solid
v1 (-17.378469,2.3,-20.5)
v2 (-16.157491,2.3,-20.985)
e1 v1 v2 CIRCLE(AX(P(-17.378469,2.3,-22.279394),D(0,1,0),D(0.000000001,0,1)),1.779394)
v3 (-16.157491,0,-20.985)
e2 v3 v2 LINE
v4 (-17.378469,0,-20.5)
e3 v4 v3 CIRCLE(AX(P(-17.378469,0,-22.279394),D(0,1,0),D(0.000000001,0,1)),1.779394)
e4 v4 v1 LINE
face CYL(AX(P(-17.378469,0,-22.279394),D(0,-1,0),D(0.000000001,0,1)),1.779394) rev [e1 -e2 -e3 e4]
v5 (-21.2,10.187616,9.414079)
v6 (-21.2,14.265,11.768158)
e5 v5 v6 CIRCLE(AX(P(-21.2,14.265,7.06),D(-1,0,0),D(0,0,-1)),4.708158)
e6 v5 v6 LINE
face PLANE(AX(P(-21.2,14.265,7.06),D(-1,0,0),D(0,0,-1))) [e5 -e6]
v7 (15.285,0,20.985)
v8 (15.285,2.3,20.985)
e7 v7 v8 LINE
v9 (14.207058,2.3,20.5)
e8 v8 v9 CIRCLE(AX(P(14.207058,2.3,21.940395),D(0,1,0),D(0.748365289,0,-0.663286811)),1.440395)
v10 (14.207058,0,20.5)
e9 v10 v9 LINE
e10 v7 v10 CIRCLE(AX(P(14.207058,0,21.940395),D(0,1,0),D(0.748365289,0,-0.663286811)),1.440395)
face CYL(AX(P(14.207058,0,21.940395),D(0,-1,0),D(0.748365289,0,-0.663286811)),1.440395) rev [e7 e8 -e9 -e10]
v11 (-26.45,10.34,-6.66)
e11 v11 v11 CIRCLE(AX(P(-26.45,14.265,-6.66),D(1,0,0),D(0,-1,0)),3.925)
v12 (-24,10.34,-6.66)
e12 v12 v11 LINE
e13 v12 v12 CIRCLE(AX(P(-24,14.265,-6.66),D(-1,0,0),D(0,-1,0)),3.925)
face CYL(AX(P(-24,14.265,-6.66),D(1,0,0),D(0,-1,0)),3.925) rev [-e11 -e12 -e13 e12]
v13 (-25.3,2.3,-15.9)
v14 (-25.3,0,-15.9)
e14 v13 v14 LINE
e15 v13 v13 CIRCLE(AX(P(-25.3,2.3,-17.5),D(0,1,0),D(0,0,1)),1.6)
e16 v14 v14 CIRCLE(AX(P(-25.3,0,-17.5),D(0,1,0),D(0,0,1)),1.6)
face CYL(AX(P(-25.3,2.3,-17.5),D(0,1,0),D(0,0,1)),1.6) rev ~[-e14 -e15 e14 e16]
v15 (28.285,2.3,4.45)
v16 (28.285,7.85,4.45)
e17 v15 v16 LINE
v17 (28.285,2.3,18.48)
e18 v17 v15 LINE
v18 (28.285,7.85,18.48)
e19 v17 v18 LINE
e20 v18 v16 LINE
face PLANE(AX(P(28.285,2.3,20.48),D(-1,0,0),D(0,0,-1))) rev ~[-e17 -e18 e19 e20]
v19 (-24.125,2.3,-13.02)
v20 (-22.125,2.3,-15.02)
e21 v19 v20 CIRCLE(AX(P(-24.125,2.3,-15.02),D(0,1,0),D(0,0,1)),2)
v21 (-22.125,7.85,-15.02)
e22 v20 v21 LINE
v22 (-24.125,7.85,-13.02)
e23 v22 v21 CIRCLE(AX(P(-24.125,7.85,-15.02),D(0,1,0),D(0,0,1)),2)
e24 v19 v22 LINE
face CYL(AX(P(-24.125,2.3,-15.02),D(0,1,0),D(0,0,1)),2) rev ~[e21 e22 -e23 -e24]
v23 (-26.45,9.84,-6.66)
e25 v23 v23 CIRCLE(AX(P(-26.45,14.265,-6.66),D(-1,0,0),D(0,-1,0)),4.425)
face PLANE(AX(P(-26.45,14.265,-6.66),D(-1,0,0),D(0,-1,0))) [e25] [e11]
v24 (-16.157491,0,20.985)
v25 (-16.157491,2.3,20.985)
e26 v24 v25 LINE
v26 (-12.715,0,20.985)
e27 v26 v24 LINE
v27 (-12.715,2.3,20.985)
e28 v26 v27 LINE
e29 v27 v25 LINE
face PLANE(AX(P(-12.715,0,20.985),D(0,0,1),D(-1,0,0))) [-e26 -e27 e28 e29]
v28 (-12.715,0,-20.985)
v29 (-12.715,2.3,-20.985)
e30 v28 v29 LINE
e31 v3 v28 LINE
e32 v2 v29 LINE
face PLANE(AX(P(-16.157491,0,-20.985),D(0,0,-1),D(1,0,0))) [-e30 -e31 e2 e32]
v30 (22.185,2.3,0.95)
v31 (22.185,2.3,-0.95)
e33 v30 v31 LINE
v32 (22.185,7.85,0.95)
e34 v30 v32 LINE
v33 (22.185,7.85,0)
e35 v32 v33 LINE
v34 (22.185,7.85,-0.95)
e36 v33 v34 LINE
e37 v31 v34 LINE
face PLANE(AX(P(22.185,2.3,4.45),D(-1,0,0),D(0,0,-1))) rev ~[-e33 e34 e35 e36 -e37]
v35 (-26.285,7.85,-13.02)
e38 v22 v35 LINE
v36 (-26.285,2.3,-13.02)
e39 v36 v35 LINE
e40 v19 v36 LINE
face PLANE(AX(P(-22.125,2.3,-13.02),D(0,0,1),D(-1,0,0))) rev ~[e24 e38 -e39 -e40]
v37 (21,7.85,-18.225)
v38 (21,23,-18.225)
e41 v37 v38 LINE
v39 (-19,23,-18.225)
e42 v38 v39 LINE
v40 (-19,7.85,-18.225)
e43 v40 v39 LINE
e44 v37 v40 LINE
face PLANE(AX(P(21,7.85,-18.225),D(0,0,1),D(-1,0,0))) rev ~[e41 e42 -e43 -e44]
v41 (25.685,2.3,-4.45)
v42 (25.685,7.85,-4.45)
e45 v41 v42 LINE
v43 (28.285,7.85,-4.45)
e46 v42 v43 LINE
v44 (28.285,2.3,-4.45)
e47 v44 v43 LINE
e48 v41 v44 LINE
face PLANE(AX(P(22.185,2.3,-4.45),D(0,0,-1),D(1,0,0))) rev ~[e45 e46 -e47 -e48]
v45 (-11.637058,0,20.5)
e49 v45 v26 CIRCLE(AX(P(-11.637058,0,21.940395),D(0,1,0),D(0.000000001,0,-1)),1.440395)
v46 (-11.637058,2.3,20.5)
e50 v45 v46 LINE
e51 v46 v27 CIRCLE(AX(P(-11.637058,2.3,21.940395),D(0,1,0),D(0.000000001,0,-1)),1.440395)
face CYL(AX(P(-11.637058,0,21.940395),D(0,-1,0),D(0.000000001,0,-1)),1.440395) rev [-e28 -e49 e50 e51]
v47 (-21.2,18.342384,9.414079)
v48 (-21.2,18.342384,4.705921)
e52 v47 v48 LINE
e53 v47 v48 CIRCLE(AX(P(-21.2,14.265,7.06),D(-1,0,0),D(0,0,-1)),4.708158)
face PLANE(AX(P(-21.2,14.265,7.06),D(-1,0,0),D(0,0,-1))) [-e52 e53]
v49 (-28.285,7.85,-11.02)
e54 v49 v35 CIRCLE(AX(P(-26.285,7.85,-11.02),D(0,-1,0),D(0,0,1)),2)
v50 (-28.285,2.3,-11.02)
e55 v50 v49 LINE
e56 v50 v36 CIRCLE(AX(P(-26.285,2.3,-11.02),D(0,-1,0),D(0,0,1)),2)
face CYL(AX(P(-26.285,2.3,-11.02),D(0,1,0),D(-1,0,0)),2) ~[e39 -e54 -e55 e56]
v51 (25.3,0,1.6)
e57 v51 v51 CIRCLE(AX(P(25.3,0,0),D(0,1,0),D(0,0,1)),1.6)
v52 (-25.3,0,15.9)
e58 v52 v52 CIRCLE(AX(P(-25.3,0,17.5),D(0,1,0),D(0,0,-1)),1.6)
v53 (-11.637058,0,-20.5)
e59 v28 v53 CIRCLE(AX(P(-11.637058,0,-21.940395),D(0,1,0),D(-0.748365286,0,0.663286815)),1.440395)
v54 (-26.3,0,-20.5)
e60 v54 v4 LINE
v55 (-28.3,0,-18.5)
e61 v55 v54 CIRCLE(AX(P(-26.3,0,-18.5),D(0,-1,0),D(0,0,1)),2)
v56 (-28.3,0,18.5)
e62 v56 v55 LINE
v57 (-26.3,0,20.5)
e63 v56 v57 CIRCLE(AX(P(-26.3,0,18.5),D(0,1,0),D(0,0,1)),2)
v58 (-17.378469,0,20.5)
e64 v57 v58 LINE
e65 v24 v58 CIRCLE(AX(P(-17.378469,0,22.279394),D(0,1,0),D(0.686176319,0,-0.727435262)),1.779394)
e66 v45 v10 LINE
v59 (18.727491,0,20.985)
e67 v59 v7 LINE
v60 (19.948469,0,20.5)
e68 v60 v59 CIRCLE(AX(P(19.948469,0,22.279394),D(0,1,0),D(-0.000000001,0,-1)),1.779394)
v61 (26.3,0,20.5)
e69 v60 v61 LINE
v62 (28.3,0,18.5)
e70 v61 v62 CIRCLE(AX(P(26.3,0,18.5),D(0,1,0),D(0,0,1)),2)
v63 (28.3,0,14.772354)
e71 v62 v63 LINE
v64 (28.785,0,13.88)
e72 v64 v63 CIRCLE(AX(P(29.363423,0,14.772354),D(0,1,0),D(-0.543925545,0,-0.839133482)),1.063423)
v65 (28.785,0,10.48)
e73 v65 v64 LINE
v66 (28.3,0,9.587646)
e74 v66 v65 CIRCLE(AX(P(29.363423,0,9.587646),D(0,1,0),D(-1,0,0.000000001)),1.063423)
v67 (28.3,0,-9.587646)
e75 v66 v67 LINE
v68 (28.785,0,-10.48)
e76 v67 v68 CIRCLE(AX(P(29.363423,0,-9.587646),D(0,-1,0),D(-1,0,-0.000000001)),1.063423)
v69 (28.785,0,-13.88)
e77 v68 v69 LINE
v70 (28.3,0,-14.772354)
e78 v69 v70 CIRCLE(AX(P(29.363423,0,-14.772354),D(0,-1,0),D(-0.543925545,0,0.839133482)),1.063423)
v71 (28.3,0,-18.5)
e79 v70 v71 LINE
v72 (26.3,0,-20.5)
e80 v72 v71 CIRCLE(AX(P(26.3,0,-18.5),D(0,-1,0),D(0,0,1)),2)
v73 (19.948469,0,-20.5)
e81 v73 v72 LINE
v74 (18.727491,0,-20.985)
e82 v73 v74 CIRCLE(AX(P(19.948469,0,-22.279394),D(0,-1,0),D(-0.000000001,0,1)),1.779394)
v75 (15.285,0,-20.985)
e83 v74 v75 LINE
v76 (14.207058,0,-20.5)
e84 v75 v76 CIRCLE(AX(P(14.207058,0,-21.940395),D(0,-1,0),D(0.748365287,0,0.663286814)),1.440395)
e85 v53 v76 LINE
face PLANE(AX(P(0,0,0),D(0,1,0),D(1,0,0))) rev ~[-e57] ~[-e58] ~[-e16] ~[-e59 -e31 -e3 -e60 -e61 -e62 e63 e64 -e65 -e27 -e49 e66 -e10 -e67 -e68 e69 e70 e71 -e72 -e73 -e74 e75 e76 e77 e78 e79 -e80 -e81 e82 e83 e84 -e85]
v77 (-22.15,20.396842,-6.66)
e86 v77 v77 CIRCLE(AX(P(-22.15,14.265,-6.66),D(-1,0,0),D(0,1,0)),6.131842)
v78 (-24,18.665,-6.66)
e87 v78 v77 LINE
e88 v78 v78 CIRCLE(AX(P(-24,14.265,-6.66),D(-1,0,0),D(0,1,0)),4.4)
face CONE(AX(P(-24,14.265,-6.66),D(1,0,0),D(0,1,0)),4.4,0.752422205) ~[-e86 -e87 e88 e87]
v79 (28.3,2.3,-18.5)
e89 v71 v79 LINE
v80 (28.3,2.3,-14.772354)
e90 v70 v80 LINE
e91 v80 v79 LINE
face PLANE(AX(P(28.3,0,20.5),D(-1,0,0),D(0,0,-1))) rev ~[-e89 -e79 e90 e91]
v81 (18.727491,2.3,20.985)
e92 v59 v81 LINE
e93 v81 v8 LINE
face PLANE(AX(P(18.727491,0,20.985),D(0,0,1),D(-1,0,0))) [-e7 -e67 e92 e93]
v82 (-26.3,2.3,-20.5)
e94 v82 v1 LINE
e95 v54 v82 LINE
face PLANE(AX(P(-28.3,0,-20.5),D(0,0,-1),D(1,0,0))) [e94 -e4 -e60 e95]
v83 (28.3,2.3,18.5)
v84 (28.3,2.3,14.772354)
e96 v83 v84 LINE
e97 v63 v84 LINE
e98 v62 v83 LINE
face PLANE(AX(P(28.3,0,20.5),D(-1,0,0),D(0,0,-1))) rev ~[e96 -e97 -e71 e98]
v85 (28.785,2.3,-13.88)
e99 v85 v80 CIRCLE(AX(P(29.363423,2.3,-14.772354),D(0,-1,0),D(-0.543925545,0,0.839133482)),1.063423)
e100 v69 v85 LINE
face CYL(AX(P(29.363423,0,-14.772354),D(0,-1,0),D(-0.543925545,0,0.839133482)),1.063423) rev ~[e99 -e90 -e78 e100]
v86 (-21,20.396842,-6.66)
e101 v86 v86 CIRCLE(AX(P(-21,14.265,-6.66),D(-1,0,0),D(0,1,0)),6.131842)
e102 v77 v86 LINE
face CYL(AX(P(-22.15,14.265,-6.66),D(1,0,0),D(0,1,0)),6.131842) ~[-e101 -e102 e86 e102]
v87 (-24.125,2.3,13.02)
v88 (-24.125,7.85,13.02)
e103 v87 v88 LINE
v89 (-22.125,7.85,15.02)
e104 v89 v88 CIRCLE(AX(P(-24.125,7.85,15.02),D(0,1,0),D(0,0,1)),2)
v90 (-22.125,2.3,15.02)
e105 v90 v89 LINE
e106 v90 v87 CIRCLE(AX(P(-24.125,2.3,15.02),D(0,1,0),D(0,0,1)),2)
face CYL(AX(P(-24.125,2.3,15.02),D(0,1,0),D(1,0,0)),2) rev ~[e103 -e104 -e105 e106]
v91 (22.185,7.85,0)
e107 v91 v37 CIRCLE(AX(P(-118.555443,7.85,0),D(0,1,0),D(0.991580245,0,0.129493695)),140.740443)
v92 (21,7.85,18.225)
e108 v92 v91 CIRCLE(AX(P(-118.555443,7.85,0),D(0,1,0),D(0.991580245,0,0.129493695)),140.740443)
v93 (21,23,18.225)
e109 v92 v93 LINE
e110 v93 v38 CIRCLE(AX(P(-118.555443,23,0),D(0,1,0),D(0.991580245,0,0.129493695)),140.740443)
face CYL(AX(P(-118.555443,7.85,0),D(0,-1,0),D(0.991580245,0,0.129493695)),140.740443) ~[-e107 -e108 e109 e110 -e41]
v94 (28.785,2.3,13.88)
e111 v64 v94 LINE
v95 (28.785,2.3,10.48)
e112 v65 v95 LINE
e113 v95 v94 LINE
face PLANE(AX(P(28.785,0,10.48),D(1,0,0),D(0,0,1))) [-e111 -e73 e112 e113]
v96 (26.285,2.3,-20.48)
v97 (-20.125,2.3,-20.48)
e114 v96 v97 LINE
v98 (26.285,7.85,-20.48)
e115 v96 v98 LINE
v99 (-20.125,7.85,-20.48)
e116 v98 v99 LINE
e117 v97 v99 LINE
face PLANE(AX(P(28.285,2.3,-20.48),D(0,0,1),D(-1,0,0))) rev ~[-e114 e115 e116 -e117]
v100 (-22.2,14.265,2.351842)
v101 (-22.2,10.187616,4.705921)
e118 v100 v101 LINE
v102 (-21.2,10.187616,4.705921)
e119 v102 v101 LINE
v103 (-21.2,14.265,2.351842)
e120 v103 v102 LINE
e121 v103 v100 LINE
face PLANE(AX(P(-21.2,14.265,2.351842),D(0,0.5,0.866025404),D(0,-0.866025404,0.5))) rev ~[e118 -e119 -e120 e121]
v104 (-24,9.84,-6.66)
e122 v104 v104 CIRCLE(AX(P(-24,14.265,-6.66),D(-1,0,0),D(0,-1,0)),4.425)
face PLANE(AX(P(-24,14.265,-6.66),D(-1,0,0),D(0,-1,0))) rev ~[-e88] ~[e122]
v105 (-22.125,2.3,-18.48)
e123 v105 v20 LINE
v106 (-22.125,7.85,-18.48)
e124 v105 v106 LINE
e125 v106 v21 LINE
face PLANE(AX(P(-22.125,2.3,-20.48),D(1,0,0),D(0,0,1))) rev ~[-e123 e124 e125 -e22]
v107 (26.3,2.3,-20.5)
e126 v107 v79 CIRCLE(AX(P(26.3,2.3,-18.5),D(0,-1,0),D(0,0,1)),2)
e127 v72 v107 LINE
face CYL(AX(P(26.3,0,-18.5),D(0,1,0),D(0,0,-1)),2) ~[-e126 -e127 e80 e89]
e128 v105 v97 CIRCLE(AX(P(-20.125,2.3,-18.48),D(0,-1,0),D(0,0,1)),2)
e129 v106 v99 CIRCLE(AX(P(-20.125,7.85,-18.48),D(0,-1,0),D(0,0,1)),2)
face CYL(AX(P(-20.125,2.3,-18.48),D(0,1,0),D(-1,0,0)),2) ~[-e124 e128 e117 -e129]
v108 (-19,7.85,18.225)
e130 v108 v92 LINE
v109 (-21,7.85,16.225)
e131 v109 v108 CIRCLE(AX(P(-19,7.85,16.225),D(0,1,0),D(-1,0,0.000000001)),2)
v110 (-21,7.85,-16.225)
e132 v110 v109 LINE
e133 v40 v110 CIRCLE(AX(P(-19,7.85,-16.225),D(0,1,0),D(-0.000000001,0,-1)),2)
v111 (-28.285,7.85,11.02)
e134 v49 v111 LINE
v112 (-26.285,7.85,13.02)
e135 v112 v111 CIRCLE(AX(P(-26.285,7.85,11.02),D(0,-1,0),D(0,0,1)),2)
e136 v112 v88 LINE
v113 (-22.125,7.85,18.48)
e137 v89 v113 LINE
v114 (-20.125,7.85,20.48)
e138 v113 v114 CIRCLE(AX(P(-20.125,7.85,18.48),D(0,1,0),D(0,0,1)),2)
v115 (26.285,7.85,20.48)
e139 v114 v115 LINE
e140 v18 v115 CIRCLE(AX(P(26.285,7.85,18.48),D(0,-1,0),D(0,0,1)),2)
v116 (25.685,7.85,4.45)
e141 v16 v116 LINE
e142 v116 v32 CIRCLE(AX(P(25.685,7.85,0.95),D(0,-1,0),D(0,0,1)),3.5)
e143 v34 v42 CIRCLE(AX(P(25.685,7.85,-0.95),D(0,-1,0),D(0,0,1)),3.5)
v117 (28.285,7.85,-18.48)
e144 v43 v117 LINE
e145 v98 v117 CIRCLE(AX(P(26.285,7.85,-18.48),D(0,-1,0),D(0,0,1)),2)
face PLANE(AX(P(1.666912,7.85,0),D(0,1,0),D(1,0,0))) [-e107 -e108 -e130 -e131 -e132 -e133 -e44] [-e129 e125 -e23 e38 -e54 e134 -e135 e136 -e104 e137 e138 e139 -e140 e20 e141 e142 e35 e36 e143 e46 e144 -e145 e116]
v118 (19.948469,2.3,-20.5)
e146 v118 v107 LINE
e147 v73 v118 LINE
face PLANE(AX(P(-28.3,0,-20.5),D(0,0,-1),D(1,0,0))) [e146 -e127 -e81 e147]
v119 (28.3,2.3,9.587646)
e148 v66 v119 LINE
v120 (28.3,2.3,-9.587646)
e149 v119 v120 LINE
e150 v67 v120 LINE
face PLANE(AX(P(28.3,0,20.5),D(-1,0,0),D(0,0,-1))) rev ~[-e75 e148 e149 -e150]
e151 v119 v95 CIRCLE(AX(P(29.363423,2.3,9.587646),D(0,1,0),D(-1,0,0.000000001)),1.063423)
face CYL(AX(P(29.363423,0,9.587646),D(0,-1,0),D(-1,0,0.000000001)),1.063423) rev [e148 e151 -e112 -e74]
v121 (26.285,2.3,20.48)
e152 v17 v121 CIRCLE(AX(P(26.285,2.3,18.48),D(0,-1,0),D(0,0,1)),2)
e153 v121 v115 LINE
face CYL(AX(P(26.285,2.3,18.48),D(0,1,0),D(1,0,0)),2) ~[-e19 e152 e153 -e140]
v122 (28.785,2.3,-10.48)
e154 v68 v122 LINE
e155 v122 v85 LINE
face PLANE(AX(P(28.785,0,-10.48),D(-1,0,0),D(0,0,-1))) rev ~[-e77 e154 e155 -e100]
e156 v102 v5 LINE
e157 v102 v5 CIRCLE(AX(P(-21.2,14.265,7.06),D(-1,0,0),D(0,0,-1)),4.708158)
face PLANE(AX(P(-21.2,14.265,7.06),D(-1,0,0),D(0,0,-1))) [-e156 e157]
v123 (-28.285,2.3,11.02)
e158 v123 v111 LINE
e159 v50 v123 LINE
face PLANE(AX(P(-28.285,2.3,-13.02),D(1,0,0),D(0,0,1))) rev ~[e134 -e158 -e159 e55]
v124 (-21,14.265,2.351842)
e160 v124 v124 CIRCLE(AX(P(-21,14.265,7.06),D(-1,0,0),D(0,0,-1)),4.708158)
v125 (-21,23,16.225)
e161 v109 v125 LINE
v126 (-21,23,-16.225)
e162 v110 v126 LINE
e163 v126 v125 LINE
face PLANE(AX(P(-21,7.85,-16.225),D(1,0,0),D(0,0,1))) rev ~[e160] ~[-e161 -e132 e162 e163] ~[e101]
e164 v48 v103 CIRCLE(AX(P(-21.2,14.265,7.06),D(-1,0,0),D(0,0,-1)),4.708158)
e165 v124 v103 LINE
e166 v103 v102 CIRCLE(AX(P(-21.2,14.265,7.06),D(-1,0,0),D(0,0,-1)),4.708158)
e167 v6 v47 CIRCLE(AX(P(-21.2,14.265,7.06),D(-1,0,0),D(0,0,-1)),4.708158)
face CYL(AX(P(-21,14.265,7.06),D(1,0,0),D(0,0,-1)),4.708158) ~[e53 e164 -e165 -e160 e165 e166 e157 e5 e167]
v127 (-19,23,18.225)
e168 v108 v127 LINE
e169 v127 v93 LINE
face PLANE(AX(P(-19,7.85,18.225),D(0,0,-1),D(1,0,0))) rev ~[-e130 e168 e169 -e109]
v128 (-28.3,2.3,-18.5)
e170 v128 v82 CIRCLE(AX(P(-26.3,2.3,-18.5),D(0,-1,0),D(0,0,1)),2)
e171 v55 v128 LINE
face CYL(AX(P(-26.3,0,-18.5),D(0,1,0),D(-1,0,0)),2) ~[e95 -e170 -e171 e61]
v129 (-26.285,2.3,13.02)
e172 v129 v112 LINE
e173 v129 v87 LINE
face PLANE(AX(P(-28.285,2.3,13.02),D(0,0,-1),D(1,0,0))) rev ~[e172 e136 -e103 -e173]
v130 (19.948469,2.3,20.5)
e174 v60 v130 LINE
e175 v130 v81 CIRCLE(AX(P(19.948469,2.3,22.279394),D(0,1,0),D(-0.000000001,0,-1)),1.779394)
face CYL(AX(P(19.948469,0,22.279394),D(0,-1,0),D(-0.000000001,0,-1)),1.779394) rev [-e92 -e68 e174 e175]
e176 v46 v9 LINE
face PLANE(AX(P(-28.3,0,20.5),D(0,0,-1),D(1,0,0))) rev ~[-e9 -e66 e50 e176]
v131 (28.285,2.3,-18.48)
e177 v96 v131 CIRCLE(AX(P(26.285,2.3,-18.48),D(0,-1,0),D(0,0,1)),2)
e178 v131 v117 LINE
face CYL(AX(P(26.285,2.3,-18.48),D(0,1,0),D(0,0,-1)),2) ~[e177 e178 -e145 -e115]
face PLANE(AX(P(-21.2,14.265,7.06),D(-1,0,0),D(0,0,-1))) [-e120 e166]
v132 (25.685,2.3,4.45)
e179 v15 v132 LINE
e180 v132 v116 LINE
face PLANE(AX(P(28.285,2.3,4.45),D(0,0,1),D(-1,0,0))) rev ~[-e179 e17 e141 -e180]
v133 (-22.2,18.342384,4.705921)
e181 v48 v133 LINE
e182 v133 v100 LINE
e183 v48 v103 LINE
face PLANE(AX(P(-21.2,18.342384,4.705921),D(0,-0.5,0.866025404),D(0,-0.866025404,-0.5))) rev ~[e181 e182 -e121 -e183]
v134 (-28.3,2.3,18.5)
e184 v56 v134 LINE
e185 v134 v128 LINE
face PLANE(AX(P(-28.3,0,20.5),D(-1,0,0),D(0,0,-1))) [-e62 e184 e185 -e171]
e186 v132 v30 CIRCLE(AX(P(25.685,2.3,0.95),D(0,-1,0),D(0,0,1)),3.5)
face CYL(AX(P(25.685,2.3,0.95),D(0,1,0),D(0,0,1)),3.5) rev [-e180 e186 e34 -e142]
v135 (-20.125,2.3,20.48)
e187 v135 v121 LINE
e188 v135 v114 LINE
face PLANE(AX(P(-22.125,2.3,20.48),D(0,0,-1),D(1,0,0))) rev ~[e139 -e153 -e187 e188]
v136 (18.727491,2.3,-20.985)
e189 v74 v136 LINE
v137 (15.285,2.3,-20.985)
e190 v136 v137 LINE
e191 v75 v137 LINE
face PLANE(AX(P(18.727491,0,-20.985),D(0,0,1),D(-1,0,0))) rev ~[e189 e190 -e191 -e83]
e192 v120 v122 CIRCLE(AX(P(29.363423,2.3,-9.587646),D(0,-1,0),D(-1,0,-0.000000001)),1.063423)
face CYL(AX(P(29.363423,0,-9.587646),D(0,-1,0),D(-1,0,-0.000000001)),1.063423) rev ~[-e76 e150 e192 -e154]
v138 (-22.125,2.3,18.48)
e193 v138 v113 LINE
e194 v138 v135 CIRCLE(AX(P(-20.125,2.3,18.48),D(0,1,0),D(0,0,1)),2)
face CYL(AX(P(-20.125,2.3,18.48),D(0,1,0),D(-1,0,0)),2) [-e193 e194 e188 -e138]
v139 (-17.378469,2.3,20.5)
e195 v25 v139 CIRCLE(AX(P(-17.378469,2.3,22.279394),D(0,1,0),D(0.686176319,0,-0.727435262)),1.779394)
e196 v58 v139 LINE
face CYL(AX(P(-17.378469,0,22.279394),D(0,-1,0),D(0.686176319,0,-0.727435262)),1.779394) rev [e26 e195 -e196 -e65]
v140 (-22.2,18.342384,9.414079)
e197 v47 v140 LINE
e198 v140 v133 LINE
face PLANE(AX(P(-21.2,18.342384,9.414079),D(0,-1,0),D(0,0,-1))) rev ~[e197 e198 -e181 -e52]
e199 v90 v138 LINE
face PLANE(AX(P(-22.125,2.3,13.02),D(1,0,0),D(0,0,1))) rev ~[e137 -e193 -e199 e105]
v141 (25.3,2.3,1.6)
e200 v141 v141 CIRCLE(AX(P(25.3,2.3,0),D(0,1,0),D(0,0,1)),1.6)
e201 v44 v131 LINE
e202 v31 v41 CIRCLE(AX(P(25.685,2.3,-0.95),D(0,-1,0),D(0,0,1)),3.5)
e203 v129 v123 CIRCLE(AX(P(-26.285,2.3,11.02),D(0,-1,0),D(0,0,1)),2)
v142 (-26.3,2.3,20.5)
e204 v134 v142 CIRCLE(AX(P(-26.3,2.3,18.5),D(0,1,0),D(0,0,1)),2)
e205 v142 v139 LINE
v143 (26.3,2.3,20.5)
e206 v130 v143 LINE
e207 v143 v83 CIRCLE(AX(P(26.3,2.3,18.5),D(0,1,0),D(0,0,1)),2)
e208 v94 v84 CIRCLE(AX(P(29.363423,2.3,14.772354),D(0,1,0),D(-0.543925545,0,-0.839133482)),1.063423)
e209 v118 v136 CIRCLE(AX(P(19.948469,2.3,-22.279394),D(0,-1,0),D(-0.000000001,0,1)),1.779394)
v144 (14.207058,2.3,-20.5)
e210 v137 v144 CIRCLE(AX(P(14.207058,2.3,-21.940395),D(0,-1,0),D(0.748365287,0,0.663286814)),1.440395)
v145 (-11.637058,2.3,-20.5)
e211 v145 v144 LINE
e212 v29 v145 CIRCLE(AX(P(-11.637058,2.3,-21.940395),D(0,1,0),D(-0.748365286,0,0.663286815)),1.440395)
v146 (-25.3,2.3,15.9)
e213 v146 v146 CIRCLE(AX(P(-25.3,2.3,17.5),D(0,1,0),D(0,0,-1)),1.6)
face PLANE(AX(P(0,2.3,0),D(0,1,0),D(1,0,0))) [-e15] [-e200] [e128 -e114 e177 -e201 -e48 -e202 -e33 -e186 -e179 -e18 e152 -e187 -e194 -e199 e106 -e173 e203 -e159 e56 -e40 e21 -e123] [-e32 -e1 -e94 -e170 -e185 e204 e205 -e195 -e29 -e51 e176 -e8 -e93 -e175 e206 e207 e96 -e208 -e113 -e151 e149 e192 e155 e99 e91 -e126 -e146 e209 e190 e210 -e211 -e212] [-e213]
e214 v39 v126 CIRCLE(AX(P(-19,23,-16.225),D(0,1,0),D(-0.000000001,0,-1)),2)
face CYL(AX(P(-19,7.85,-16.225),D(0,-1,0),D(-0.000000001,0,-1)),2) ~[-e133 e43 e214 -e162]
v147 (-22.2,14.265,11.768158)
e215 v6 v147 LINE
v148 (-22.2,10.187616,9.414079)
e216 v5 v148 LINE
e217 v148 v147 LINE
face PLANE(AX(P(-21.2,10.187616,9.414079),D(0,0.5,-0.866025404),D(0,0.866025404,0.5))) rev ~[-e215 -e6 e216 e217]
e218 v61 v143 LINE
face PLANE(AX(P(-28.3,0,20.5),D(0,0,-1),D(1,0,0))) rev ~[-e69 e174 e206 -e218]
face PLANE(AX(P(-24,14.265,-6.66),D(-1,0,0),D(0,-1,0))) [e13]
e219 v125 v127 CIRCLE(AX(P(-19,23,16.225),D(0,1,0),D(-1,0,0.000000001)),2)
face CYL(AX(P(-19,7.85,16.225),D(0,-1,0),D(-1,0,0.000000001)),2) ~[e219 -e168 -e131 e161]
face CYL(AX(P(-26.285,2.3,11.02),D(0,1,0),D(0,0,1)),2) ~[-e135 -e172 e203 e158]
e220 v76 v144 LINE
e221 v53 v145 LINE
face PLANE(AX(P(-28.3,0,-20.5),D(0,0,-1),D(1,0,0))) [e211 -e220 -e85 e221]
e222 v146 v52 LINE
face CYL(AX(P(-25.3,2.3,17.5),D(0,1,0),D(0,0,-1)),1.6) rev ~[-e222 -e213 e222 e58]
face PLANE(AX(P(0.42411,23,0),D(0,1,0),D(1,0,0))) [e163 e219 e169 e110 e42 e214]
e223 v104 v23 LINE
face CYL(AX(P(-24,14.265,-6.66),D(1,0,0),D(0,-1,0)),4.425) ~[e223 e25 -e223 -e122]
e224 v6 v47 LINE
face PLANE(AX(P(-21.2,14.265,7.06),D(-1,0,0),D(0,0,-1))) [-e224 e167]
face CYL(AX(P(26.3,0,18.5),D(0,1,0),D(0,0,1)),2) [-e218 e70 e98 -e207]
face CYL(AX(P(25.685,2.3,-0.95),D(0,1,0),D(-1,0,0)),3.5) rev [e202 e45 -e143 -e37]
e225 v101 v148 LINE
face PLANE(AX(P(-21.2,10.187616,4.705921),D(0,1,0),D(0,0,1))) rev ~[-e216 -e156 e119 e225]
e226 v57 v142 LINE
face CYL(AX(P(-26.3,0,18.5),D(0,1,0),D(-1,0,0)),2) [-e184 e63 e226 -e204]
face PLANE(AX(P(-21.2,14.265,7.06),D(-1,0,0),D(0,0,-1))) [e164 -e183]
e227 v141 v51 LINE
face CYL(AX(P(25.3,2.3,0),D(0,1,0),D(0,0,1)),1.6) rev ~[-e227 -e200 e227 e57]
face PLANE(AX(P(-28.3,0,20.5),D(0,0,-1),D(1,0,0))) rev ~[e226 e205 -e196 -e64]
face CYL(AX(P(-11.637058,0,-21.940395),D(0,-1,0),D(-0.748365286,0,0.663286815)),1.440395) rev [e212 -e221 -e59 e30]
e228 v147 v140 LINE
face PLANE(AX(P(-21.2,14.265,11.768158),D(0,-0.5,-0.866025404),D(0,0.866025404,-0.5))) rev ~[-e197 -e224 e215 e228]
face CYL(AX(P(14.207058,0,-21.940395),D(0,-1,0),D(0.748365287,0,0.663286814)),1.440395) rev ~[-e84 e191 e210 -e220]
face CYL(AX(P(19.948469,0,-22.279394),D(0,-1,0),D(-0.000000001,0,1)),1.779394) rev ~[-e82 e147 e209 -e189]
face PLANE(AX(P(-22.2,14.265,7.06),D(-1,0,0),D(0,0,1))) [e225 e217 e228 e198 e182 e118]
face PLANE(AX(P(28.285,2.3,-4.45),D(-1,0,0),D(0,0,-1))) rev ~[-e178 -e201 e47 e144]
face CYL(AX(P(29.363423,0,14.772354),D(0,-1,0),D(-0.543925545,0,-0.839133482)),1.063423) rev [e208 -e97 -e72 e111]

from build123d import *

# Parameters (mm, degrees)
SKETCH1_W               = 56.6
SKETCH1_H               = 41
BOSS_EXTRUDE1_DEPTH     = 2.3
BOSS_EXTRUDE2_DEPTH     = 5.55
BOSS_EXTRUDE3_DEPTH     = 15.15
FILLET1_R               = 2
BOSS_EXTRUDE5_DEPTH     = 2.3
BOSS_EXTRUDE6_DEPTH     = 2.3
SKETCH6_R               = 1.6
CUT_EXTRUDE1_DEPTH      = 42.199956917
FILLET2_R               = 3.5
SKETCH7_R               = 4.708157521
BOSS_EXTRUDE7_DEPTH     = 0.2
SKETCH11_R              = 4.425
BOSS_EXTRUDE8_DEPTH     = 2.45
CUT_EXTRUDE2_DEPTH      = 10
CUT_EXTRUDE2_DEPTH_BACK = 2.45
SKETCH12_R              = 3.925
BOSS_EXTRUDE10_DEPTH    = 1


with BuildPart() as part:
    # Sketch1 → Boss-Extrude1 (new body)
    with BuildSketch(Plane(origin=(0, 0, 0), x_dir=(1, 0, 0), z_dir=(0, 1, 0))):
        Rectangle(SKETCH1_W, SKETCH1_H)
    extrude(amount=BOSS_EXTRUDE1_DEPTH)

    # Sketch2 → Boss-Extrude2 (add)
    with BuildSketch(Plane(origin=(0, 2.3, 0), x_dir=(1, 0, 0), z_dir=(0, 1, 0))):
        Polygon((-22.125, -20.48), (28.285, -20.48), (28.285, -4.45), (22.185, -4.45), (22.185, 4.45), (28.285, 4.45), (28.285, 20.48), (-22.125, 20.48), (-22.125, 13.02), (-28.285, 13.02), (-28.285, -13.02), (-22.125, -13.02), align=None)
    extrude(amount=BOSS_EXTRUDE2_DEPTH)

    # Sketch3 → Boss-Extrude3 (add)
    with BuildSketch(Plane(origin=(0, 7.85, 0), x_dir=(1, 0, 0), z_dir=(0, 1, 0))):
        with BuildLine():
            Line((-19, -18.225), (21, -18.225))
            ThreePointArc((21, -18.225), (22.185, 0), (21, 18.225))
            Line((21, 18.225), (-19, 18.225))
            ThreePointArc((-19, 18.225), (-20.414213562, 17.639213562), (-21, 16.225))
            Line((-21, 16.225), (-21, -16.225))
            ThreePointArc((-21, -16.225), (-20.414213562, -17.639213562), (-19, -18.225))
        make_face()
    extrude(amount=BOSS_EXTRUDE3_DEPTH)

    # Fillet1
    fillet1_edges = [part.edges().sort_by_distance(p)[0] for p in [
        (28.285, 5.075, -20.48),
        (-22.125, 5.075, -20.48),
        (-22.125, 5.075, -13.02),
        (-28.285, 5.075, -13.02),
        (-28.285, 5.075, 13.02),
        (-22.125, 5.075, 13.02),
        (-22.125, 5.075, 20.48),
        (28.285, 5.075, 20.48),
        (28.3, 1.15, 20.5),
        (-28.3, 1.15, 20.5),
        (-28.3, 1.15, -20.5),
        (28.3, 1.15, -20.5),
    ]]
    fillet(fillet1_edges, radius=FILLET1_R)

    # Sketch4 → Boss-Extrude5 (add)
    with BuildSketch(Plane(origin=(0, 0, 0), x_dir=(1, 0, 0), z_dir=(0, 1, 0))):
        with BuildLine():
            Line((28.3, 14.772353725), (28.3, 9.587646275))
            ThreePointArc((28.3, 9.587646275), (28.429084519, 10.095465182), (28.785, 10.48))
            Line((28.785, 10.48), (28.785, 13.88))
            ThreePointArc((28.785, 13.88), (28.429084519, 14.264534818), (28.3, 14.772353725))
        make_face()
        with BuildLine():
            ThreePointArc((28.3, -9.587646275), (28.429084519, -10.095465182), (28.785, -10.48))
            Line((28.785, -10.48), (28.785, -13.88))
            ThreePointArc((28.785, -13.88), (28.429084519, -14.264534818), (28.3, -14.772353725))
            Line((28.3, -14.772353725), (28.3, -9.587646275))
        make_face()
    extrude(amount=BOSS_EXTRUDE5_DEPTH)

    # Sketch5 → Boss-Extrude6 (add)
    with BuildSketch(Plane(origin=(29.434734965, 0, -17.005006325), x_dir=(0, 0, -1), z_dir=(0, 1, 0))):
        with BuildLine():
            Line((3.494993675, 9.629302498), (3.494993675, 9.486266265))
            ThreePointArc((3.494993675, 9.486266265), (3.620682756, 10.143155137), (3.979993675, 10.707244136))
            Line((3.979993675, 10.707244136), (3.979993675, 14.149734965))
            ThreePointArc((3.979993675, 14.149734965), (3.621827878, 14.636664087), (3.494993675, 15.227676603))
            Line((3.494993675, 15.227676603), (3.494993675, 9.629302498))
        make_face()
        with BuildLine():
            Line((-37.505006325, 46.813203664), (-37.505006325, 46.670167432))
            Line((-37.505006325, 46.670167432), (-37.505006325, 41.071793326))
            ThreePointArc((-37.505006325, 41.071793326), (-37.631840527, 41.662805842), (-37.990006325, 42.149734965))
            Line((-37.990006325, 42.149734965), (-37.990006325, 45.592225793))
            ThreePointArc((-37.990006325, 45.592225793), (-37.630695406, 46.156314792), (-37.505006325, 46.813203664))
        make_face()
        with BuildLine():
            Line((3.494993675, 41.071793326), (3.494993675, 46.670167432))
            Line((3.494993675, 46.670167432), (3.494993675, 46.813203664))
            ThreePointArc((3.494993675, 46.813203664), (3.620682756, 46.156314792), (3.979993675, 45.592225793))
            Line((3.979993675, 45.592225793), (3.979993675, 42.149734965))
            ThreePointArc((3.979993675, 42.149734965), (3.621827878, 41.662805842), (3.494993675, 41.071793326))
        make_face()
        with BuildLine():
            Line((-37.505006325, 15.227676603), (-37.505006325, 9.629302498))
            Line((-37.505006325, 9.629302498), (-37.505006325, 9.486266265))
            ThreePointArc((-37.505006325, 9.486266265), (-37.630695406, 10.143155137), (-37.990006325, 10.707244136))
            Line((-37.990006325, 10.707244136), (-37.990006325, 14.149734965))
            ThreePointArc((-37.990006325, 14.149734965), (-37.631840527, 14.636664087), (-37.505006325, 15.227676603))
        make_face()
    extrude(amount=BOSS_EXTRUDE6_DEPTH)

    # Sketch6 → Cut-Extrude1 (cut, through all)
    with BuildSketch(Plane(origin=(0, 2.3, 0), x_dir=(1, 0, 0), z_dir=(0, 1, 0))):
        with Locations(Location((-25.3, 17.5, 0), (0, 0, 270))):
            Circle(SKETCH6_R)
        with Locations(Location((-25.3, -17.5, 0), (0, 0, 90))):
            Circle(SKETCH6_R)
        with Locations(Location((25.3, 0, 0), (0, 0, 270))):
            Circle(SKETCH6_R)
    extrude(amount=-CUT_EXTRUDE1_DEPTH, mode=Mode.SUBTRACT)

    # Fillet2
    fillet2_edges = [part.edges().sort_by_distance(p)[0] for p in [
        (22.185, 5.075, 4.45),
        (22.185, 5.075, -4.45),
    ]]
    fillet(fillet2_edges, radius=FILLET2_R)

    # Sketch7 → Boss-Extrude7 (add)
    with BuildSketch(Plane.ZY.offset(21)):
        with Locations(Location((7.06, 14.265, 0), (0, 0, 180))):
            Circle(SKETCH7_R)
    extrude(amount=BOSS_EXTRUDE7_DEPTH)

    # Sketch9 → Revolve1 (revolve)
    with BuildSketch(Plane(origin=(0, 0, -6.66), x_dir=(-1, 0, 0), z_dir=(0, 0, -1))):
        Polygon((21, 20.396842479), (21, 14.265), (24, 14.265), (24, 18.665), (22.15, 20.396842479), align=None)
    revolve(axis=Axis((-21, 14.265, -6.66), (-1, 0, 0)))

    # Sketch11 → Boss-Extrude8 (add)
    with BuildSketch(Plane.ZY.offset(24)):
        with Locations(Location((-6.66, 14.265, 0), (0, 0, 270))):
            Circle(SKETCH11_R)
    extrude(amount=BOSS_EXTRUDE8_DEPTH)

    # Sketch12 → Cut-Extrude2 (cut, two sides: drawn at the far end of the back side and taken through both)
    with BuildSketch(Plane.ZY.offset(26.45).offset(-CUT_EXTRUDE2_DEPTH_BACK)):
        with Locations(Location((-6.66, 14.265, 0), (0, 0, 270))):
            Circle(SKETCH12_R)
    extrude(amount=CUT_EXTRUDE2_DEPTH + CUT_EXTRUDE2_DEPTH_BACK, mode=Mode.SUBTRACT)

    # Sketch13 → Boss-Extrude10 (add)
    with BuildSketch(Plane.ZY.offset(21.2)):
        Polygon((2.351842479, 14.265), (4.705921239, 10.187615982), (9.414078761, 10.187615982), (11.768157521, 14.265), (9.414078761, 18.342384018), (4.705921239, 18.342384018), align=None)
    extrude(amount=BOSS_EXTRUDE10_DEPTH)


solid = part.part
